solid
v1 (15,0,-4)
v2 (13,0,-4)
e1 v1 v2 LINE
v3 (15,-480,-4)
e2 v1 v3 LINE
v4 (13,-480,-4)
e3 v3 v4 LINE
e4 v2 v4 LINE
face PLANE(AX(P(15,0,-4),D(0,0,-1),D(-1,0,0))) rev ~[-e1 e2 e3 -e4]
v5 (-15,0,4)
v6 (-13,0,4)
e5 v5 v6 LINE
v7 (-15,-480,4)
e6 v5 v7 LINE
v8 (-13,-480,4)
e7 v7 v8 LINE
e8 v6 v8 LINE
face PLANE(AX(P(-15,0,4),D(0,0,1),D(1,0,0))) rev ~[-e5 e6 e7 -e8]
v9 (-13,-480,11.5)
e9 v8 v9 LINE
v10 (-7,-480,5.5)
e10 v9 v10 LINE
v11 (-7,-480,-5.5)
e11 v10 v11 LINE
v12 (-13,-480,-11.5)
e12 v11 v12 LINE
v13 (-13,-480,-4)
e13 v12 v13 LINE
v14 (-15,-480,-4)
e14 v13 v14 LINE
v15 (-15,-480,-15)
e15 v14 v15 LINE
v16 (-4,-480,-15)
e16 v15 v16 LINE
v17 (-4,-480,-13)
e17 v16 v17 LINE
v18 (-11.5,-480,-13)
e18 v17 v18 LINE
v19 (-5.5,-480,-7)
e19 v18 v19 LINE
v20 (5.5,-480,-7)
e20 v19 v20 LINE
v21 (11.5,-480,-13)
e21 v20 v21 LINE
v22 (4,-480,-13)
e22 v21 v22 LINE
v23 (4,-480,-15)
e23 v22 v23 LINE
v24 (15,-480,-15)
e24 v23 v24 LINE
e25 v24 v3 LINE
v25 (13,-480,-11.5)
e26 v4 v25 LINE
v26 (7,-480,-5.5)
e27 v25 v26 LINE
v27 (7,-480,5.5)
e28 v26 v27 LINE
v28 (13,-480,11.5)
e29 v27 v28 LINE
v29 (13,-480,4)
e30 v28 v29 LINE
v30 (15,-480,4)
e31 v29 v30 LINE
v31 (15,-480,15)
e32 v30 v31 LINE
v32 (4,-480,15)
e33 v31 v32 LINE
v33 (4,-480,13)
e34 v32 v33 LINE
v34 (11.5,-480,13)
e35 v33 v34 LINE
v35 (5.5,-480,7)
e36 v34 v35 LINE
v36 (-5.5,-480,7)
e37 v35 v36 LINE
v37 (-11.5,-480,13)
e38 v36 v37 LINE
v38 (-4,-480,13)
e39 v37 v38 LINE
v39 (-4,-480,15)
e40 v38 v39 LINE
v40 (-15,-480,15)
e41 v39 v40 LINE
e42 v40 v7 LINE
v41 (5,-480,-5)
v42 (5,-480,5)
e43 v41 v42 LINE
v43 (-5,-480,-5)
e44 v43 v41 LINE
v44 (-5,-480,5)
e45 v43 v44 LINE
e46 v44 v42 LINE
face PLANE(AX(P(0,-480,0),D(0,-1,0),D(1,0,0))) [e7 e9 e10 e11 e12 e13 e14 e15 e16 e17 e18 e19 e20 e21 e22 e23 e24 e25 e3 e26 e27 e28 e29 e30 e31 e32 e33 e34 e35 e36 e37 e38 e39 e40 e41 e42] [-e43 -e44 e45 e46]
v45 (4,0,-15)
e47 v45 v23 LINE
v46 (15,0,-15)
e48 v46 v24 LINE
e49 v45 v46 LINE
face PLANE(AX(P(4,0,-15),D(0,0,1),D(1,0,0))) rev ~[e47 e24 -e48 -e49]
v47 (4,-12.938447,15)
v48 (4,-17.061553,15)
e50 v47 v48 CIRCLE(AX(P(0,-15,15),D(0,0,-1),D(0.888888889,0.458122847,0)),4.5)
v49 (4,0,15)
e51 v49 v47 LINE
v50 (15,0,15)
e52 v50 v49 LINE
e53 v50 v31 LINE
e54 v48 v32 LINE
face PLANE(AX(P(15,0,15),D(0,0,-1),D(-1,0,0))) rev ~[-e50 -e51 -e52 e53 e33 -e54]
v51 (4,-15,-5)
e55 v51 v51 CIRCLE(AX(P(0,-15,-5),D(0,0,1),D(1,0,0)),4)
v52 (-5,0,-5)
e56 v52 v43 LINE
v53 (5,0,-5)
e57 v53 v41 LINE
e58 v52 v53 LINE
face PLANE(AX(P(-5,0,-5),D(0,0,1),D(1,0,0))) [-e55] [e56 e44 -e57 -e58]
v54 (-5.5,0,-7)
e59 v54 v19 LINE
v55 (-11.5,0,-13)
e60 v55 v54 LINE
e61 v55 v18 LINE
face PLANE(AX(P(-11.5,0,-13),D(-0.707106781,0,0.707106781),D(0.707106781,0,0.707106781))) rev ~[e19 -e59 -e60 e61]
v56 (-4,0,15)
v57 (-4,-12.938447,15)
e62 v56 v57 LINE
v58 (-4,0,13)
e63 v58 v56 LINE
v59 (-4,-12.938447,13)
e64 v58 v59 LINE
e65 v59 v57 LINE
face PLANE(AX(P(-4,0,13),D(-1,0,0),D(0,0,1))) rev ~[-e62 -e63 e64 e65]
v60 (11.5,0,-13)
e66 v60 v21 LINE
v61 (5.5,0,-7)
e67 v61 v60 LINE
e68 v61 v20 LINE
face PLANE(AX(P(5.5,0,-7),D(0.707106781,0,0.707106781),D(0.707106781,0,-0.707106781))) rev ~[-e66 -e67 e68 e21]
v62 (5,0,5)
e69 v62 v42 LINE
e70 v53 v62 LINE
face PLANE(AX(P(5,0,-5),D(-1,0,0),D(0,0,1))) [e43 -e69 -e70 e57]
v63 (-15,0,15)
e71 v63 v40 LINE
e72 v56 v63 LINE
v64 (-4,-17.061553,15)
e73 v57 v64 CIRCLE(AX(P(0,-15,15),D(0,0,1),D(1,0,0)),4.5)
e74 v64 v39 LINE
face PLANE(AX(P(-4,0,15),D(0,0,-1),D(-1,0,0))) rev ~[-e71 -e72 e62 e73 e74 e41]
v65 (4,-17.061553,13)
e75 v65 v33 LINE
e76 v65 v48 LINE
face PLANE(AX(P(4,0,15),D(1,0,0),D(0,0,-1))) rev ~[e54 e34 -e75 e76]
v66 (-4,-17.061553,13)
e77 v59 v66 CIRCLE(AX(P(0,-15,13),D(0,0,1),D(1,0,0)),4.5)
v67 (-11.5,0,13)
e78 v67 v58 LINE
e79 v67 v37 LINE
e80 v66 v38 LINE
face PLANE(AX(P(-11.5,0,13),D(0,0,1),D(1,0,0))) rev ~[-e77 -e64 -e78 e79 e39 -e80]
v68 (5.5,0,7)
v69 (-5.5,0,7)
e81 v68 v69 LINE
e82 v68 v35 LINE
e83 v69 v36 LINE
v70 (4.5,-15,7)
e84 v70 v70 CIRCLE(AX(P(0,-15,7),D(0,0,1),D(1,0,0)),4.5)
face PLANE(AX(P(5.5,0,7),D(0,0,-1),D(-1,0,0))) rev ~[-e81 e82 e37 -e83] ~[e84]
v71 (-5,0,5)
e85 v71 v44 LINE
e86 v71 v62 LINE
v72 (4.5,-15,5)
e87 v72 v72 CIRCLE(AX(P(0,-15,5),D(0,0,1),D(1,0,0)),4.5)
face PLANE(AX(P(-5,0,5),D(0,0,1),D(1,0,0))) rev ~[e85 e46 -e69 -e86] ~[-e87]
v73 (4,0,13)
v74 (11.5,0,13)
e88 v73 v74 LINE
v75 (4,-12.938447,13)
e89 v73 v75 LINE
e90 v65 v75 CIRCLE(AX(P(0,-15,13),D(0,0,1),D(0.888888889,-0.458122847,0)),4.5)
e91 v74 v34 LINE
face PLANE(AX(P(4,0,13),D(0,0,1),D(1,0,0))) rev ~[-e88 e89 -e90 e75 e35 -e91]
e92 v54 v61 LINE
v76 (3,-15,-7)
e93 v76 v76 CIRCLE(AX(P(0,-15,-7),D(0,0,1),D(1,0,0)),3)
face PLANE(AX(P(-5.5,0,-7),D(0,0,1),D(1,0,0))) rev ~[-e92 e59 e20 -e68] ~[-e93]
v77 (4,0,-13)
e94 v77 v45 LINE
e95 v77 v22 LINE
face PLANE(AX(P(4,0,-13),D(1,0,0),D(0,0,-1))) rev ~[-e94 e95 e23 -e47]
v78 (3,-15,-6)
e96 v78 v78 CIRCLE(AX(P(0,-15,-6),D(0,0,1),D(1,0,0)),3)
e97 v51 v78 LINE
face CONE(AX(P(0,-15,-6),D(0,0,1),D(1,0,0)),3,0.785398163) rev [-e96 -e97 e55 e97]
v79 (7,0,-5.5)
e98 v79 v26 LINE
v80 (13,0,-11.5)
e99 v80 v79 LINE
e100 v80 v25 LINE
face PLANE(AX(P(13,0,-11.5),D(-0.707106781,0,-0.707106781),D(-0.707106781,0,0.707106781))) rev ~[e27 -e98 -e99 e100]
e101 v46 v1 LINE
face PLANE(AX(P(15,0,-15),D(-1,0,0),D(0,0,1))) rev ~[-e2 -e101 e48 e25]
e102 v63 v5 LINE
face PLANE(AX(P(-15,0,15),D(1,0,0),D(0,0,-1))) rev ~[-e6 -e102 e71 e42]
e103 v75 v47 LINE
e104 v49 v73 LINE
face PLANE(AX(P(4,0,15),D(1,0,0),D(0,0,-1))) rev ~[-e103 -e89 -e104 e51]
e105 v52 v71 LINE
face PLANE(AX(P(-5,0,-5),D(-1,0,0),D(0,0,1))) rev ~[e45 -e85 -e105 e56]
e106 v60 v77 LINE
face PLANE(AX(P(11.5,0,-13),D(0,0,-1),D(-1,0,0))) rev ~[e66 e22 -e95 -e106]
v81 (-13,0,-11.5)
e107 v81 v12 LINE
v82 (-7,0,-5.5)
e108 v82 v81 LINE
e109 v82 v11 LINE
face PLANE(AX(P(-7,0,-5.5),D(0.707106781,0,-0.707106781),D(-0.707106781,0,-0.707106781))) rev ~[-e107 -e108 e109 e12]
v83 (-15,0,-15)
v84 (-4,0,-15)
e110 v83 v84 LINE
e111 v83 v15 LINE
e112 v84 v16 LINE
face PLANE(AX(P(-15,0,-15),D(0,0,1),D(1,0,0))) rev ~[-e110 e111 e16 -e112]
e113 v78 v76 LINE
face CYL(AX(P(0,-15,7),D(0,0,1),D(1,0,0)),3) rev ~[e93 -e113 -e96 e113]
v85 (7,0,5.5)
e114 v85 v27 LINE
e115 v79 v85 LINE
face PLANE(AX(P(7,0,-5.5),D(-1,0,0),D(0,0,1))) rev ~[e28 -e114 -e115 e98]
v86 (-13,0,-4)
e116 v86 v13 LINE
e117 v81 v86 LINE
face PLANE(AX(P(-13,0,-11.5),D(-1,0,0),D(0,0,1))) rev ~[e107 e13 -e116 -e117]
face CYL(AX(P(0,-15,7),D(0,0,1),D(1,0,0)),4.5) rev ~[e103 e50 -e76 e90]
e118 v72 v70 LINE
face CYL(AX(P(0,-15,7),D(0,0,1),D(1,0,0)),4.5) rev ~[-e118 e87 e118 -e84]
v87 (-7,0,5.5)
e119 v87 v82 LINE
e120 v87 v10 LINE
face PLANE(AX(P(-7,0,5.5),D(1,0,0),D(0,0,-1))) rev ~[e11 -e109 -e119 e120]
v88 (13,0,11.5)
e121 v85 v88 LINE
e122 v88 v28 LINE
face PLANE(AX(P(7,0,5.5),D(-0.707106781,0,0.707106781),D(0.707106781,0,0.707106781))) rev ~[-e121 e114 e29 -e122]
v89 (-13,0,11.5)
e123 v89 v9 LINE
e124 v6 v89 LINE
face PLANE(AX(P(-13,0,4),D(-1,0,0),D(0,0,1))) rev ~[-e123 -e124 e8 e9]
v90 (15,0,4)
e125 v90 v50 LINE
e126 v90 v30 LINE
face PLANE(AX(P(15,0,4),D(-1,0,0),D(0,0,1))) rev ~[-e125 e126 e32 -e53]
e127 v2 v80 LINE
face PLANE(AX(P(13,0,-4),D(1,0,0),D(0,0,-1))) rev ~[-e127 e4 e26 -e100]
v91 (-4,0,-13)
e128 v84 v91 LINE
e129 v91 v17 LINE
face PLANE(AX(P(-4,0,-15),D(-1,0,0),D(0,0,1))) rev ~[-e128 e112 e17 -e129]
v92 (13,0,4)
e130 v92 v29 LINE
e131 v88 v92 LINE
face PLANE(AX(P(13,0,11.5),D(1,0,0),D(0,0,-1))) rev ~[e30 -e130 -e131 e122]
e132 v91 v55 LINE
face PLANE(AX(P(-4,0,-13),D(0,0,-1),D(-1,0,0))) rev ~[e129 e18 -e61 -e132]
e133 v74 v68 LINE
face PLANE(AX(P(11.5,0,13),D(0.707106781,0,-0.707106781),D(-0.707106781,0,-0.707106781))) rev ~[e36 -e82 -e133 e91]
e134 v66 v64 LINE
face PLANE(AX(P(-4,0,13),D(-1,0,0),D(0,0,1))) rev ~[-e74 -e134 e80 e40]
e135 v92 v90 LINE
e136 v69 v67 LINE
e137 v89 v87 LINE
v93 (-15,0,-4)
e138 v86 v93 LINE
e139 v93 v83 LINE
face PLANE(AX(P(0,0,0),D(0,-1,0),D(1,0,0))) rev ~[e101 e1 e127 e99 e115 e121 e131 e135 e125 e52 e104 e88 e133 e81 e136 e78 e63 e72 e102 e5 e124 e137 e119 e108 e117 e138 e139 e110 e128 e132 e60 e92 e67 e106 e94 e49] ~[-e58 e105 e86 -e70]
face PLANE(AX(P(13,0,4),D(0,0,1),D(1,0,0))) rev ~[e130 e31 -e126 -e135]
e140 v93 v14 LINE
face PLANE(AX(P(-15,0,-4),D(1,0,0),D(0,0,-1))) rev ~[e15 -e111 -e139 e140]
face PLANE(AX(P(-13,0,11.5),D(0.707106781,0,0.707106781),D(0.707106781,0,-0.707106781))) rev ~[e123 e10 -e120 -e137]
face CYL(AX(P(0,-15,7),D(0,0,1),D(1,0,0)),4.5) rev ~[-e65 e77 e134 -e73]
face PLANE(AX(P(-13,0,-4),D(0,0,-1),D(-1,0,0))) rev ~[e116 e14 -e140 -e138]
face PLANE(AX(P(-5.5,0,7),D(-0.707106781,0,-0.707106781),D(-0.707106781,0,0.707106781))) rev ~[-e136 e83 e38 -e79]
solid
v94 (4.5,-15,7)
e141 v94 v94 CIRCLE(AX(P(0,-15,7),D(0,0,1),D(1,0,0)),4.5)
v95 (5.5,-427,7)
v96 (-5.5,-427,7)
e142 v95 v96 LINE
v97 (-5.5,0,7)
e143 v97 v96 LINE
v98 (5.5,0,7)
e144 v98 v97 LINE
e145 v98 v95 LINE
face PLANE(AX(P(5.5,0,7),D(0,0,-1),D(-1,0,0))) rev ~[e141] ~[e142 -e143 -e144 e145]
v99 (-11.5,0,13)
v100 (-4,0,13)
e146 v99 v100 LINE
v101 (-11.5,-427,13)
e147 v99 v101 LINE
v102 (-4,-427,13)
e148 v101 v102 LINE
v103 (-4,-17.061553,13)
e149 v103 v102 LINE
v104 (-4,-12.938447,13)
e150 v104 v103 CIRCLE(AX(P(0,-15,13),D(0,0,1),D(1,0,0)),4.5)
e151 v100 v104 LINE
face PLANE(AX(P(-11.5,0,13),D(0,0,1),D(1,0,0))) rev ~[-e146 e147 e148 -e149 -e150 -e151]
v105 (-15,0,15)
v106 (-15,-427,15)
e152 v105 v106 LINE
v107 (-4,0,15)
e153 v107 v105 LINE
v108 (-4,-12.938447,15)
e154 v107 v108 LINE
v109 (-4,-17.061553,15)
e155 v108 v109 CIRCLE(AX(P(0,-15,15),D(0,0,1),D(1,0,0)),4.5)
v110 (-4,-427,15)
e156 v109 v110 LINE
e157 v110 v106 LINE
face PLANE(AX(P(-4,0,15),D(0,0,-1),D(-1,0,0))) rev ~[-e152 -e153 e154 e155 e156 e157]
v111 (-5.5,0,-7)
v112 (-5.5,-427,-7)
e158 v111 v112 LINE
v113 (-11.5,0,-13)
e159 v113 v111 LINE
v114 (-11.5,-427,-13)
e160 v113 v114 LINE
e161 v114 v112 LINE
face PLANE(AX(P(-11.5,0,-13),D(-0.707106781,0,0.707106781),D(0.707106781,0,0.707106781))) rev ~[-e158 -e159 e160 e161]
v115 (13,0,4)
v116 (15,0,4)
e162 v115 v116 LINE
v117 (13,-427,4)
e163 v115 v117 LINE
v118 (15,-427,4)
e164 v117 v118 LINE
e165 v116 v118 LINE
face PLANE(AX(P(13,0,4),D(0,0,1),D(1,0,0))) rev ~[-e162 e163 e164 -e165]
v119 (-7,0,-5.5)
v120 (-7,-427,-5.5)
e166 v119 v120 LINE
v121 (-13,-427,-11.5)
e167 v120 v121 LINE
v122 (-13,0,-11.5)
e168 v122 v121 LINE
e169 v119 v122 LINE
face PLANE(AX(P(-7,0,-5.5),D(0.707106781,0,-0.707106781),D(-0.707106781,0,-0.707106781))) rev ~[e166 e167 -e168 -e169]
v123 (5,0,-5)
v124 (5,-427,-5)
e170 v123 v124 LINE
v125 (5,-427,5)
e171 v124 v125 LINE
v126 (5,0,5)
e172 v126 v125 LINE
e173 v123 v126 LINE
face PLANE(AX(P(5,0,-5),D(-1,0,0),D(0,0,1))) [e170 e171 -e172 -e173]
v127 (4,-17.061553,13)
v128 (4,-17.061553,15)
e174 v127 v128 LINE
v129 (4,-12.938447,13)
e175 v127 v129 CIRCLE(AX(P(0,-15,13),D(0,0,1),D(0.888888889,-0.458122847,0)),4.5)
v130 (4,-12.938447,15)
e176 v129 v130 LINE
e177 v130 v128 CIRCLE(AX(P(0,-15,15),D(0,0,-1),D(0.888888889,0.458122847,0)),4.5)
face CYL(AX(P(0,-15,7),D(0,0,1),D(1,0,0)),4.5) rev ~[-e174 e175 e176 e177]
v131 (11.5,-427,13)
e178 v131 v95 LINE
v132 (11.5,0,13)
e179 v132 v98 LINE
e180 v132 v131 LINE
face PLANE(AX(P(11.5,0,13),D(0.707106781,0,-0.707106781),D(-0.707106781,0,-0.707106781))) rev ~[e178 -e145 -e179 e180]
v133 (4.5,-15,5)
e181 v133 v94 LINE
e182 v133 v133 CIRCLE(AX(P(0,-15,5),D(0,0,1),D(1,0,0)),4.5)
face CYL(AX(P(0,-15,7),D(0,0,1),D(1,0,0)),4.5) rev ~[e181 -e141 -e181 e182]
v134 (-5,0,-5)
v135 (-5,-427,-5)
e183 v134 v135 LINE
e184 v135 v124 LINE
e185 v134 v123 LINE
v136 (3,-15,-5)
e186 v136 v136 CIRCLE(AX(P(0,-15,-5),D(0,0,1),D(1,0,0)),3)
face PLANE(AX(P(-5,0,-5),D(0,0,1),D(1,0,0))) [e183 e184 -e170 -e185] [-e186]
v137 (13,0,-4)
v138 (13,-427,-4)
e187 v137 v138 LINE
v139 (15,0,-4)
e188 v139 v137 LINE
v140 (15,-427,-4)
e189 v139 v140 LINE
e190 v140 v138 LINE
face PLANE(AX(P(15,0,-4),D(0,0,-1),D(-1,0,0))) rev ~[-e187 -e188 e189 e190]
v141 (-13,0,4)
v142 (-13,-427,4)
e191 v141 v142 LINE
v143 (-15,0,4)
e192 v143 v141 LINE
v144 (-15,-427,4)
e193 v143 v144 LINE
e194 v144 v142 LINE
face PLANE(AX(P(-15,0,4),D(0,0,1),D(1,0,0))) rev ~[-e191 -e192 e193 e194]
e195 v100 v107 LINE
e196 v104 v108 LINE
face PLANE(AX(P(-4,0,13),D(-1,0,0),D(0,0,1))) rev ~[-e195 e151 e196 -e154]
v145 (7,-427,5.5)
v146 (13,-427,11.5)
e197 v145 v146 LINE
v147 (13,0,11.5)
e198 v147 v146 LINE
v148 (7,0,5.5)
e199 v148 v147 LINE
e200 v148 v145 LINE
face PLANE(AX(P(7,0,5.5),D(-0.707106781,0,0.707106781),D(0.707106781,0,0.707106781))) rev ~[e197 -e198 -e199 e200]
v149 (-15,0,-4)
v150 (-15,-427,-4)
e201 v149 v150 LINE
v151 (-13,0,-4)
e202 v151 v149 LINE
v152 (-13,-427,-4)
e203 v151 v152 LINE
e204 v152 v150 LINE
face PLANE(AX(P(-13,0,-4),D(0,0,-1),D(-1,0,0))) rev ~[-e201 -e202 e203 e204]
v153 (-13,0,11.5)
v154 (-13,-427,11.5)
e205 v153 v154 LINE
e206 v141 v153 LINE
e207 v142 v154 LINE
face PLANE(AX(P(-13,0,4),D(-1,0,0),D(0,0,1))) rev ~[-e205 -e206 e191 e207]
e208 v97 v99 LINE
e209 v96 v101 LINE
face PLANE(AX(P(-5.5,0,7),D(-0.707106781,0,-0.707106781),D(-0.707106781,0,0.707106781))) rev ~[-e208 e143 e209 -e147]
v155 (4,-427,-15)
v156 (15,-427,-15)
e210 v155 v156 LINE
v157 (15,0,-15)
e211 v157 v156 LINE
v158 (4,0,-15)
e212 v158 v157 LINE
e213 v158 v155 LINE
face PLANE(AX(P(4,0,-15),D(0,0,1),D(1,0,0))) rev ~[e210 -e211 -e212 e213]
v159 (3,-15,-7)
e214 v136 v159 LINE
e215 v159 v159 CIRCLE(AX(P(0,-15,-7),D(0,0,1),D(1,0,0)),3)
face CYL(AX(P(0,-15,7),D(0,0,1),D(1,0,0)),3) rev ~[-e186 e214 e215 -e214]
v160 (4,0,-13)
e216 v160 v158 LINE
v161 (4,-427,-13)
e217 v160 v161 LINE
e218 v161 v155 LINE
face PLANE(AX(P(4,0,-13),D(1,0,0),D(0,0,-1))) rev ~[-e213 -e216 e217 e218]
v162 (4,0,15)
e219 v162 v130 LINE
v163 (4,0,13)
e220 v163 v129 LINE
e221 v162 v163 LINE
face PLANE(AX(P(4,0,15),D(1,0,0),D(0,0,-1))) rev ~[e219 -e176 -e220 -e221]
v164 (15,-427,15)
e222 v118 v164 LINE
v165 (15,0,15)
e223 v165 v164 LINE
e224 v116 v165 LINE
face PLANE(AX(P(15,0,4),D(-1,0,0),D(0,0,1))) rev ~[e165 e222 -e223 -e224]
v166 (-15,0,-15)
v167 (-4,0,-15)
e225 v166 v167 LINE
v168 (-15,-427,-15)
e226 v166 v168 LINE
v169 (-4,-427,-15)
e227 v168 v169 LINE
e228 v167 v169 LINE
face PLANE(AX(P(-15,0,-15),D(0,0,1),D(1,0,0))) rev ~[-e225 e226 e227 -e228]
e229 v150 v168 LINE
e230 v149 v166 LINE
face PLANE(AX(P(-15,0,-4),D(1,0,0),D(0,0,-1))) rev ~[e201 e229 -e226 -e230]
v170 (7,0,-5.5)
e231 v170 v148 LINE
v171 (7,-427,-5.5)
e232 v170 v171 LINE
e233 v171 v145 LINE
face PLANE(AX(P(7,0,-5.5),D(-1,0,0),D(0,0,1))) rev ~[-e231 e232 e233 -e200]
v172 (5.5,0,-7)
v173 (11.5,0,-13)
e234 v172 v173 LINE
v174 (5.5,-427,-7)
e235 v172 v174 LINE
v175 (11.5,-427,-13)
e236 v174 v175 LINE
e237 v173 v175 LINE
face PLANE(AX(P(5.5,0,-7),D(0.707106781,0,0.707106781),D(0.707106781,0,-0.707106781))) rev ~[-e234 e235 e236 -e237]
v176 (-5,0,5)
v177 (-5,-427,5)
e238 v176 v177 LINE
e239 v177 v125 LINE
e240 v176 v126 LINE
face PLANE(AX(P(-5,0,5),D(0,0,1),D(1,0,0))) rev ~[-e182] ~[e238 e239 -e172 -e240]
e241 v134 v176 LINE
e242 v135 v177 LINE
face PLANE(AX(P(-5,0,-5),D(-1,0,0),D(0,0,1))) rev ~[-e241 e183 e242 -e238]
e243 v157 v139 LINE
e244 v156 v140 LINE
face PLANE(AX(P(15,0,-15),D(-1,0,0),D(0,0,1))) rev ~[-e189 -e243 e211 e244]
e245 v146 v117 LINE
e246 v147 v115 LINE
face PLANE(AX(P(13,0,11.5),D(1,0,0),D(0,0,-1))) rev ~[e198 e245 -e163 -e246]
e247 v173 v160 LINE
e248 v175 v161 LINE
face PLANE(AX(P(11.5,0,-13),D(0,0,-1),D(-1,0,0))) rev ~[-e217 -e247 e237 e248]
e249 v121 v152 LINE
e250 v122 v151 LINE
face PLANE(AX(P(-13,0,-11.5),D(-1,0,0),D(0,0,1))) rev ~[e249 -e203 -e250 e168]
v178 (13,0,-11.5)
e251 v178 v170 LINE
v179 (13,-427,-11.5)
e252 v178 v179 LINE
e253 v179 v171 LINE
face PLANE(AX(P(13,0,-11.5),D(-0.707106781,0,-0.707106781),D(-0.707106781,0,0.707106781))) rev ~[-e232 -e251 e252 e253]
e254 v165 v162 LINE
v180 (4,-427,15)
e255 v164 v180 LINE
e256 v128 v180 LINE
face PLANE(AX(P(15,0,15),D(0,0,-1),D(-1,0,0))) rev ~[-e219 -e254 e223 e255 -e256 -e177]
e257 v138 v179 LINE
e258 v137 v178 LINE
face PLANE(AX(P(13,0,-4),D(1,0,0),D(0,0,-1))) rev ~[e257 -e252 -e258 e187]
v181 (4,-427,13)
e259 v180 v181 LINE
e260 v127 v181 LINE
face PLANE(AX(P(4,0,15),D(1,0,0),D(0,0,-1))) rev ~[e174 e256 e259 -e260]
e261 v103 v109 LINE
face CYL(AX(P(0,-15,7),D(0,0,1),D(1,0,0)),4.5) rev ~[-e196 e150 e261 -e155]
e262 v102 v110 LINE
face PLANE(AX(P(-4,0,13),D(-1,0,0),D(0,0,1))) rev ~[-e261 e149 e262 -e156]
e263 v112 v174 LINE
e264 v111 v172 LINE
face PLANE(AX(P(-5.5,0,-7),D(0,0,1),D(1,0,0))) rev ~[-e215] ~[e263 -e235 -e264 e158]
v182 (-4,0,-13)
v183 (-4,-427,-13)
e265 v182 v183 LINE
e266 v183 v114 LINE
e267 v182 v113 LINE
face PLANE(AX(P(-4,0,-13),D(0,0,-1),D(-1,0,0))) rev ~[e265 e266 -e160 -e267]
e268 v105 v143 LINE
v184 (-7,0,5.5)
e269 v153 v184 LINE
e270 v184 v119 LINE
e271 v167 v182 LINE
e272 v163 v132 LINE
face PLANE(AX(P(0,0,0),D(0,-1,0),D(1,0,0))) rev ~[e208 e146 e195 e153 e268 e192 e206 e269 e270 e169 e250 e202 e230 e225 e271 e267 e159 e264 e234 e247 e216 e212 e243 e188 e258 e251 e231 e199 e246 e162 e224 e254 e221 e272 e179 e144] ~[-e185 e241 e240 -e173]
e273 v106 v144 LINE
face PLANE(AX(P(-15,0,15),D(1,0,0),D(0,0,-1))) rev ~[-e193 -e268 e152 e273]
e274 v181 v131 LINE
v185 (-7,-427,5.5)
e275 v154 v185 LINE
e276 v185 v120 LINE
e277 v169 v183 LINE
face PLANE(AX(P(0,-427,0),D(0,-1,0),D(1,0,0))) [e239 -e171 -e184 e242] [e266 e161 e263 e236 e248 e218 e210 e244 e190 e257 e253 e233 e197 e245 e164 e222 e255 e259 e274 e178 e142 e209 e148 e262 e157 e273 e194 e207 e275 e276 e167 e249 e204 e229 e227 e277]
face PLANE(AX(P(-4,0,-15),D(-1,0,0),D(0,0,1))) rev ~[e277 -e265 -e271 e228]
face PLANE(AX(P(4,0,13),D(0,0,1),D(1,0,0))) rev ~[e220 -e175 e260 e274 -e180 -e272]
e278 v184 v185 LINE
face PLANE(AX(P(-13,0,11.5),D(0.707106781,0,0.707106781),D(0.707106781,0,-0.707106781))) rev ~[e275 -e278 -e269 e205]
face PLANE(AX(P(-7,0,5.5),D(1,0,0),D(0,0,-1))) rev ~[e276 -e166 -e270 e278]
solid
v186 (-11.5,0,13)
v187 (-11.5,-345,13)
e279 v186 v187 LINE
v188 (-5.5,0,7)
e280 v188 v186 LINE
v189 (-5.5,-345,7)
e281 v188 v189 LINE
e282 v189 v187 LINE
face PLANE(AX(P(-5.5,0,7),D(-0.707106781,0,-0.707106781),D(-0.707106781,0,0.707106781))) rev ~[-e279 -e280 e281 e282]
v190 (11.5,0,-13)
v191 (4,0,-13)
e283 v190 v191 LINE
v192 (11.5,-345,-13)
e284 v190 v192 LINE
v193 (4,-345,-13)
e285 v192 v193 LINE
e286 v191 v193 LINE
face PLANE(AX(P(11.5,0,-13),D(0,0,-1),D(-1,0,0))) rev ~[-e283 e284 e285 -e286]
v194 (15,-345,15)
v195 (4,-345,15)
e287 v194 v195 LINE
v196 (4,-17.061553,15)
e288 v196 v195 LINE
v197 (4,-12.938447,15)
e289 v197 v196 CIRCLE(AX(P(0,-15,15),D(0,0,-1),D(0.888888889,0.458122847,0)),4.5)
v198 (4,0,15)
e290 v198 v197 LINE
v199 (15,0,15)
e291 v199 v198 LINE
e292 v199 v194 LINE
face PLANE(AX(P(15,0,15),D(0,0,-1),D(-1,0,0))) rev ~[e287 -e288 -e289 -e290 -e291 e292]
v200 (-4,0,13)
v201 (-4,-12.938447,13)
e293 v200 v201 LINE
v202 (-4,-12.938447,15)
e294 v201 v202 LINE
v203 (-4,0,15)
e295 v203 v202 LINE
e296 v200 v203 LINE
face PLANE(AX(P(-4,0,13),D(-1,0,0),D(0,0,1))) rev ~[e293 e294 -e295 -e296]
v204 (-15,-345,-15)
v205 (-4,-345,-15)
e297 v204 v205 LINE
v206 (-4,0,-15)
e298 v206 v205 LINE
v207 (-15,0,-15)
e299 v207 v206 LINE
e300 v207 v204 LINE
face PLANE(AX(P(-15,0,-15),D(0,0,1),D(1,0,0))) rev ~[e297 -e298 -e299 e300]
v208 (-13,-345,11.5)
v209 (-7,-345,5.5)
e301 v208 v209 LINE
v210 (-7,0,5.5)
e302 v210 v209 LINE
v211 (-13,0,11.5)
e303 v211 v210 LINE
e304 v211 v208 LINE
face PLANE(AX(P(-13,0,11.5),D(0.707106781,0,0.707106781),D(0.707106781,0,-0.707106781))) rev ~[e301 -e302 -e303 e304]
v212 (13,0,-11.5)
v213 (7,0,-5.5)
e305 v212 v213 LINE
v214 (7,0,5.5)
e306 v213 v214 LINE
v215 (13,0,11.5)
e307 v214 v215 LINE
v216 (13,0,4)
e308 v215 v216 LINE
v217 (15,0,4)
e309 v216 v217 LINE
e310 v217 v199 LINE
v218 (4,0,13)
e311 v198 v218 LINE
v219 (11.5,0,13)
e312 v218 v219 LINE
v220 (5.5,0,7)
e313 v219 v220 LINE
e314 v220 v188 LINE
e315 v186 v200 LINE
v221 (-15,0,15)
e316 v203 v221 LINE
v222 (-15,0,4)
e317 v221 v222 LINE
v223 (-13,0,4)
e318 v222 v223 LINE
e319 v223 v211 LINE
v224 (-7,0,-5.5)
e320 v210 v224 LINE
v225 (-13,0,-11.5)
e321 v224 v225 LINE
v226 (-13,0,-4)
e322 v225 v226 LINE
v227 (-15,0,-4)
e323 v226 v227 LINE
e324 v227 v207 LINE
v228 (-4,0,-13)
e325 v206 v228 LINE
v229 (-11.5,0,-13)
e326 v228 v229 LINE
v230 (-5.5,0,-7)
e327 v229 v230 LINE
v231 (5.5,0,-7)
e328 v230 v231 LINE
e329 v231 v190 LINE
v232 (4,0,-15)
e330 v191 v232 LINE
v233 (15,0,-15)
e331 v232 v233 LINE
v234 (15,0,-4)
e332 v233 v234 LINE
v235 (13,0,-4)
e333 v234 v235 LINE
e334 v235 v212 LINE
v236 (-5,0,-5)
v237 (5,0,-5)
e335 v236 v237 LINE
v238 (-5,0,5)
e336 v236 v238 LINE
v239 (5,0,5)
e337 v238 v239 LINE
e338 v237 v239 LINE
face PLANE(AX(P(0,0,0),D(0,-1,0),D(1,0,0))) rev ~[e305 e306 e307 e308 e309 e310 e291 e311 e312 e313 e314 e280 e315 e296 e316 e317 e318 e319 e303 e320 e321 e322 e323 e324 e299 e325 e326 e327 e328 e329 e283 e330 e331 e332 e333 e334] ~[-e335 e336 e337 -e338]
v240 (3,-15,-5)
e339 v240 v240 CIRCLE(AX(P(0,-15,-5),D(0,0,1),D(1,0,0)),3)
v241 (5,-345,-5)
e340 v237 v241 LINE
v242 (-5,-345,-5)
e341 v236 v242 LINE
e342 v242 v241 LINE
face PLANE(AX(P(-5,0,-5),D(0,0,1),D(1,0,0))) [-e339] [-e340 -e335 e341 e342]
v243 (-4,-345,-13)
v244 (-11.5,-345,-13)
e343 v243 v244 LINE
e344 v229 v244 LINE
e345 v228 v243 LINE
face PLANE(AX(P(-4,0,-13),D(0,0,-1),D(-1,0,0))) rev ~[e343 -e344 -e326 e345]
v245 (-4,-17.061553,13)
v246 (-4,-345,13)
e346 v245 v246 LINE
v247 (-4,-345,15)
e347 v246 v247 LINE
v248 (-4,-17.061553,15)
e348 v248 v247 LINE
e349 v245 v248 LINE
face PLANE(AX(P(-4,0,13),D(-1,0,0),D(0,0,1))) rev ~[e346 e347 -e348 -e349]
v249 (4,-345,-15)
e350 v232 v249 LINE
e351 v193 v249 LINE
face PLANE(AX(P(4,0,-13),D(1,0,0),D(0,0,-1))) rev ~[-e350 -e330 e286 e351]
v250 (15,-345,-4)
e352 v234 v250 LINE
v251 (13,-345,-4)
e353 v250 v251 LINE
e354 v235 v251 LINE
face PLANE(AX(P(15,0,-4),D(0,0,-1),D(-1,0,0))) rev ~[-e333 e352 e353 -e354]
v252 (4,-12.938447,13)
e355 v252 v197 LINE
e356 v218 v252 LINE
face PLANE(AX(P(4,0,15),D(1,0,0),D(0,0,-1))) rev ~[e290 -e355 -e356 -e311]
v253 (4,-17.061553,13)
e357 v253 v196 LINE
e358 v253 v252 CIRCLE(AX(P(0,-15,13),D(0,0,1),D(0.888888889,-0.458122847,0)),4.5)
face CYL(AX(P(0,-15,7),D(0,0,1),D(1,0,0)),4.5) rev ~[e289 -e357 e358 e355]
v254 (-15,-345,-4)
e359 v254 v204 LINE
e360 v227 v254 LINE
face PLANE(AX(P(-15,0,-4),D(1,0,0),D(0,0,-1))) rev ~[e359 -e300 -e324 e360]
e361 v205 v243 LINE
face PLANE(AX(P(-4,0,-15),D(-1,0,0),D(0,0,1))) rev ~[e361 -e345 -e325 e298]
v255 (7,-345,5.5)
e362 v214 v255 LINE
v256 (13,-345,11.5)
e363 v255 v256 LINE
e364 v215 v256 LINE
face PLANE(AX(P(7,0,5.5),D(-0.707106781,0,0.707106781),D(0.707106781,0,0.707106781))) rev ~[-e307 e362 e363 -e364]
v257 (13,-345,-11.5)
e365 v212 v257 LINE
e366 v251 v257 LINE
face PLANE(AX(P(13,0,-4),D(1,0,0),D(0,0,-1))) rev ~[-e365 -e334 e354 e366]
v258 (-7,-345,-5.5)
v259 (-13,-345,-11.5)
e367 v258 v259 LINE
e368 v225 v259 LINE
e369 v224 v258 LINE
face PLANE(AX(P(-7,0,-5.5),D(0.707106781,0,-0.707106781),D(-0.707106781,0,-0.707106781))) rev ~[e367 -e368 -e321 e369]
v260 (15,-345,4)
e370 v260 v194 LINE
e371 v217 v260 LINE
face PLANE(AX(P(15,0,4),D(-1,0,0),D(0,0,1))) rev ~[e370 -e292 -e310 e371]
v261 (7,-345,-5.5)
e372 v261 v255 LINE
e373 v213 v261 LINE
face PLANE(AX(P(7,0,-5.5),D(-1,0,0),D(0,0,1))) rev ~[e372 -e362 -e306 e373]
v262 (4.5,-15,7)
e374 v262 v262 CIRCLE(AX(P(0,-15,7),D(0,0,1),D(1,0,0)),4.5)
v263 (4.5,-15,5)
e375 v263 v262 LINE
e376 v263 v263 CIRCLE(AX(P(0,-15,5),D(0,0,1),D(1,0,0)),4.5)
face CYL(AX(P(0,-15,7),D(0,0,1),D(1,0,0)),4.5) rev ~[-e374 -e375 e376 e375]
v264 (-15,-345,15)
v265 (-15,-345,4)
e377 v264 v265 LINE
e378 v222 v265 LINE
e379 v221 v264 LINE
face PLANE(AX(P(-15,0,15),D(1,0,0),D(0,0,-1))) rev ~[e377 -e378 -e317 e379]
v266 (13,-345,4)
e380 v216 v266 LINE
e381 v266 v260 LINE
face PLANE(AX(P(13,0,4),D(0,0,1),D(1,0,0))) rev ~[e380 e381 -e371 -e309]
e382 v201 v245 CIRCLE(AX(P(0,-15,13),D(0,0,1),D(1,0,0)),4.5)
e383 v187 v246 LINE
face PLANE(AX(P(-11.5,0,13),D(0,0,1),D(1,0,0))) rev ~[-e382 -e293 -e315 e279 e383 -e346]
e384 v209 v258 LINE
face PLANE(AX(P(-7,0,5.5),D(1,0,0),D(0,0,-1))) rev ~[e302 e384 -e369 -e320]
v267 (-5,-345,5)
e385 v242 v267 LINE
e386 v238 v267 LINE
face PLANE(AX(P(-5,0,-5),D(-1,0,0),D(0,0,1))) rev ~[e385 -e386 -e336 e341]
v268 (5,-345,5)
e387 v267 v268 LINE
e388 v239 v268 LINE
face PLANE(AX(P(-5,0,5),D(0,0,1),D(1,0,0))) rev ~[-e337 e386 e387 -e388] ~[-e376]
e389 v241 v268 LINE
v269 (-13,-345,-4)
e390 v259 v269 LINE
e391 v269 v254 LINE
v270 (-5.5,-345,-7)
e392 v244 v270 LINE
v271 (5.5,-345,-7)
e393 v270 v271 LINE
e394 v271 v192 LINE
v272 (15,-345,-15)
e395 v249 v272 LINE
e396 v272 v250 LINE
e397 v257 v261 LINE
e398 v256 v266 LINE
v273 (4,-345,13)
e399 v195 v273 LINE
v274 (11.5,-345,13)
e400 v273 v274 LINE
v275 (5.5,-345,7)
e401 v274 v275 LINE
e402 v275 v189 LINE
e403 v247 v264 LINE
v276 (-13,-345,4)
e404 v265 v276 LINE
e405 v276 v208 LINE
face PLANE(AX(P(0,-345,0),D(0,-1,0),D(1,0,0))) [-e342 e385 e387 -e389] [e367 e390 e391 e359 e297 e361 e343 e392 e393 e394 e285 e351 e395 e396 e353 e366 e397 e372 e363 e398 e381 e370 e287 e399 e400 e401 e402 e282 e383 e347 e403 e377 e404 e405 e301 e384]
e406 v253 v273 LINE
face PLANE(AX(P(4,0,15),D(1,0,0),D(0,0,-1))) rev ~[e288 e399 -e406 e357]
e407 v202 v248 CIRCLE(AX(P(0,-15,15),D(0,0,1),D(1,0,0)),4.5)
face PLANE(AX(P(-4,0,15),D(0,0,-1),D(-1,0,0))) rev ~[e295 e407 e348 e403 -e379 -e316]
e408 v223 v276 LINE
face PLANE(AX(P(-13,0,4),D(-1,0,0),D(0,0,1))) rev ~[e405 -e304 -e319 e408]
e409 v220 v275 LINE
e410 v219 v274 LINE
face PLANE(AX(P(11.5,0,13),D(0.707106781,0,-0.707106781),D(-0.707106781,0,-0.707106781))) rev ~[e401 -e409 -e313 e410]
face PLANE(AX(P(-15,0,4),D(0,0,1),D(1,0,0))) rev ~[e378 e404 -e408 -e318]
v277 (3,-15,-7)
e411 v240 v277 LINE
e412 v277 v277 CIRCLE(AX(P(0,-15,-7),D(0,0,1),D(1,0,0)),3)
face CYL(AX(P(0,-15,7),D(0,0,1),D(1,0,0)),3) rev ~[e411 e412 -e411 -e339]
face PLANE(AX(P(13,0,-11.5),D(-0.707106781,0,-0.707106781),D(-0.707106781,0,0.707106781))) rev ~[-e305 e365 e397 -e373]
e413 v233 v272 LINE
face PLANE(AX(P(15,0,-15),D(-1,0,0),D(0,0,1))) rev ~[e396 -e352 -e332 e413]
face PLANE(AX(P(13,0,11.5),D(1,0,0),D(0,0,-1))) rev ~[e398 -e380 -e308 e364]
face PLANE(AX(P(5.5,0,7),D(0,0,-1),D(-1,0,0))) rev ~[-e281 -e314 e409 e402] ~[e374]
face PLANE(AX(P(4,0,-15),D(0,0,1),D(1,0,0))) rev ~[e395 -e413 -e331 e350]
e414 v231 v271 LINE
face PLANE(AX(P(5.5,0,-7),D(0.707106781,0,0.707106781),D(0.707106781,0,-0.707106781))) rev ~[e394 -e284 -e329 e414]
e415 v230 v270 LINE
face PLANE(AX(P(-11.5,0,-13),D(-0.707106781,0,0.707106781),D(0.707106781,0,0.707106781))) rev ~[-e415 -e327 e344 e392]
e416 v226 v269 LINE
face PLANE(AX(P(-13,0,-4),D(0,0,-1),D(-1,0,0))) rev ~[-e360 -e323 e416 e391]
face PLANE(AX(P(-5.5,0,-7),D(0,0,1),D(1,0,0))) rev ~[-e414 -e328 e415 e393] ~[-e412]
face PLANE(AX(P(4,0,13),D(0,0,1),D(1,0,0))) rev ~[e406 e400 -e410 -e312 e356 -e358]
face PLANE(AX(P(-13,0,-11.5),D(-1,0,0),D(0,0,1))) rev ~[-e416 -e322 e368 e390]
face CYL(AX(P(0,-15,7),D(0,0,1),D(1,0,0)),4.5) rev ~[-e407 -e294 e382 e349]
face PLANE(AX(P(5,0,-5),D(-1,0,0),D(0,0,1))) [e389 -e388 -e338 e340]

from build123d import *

# Parameters (mm, degrees)
F0_W          = 10
F0_H          = 10
F1_DEPTH      = 480
F2_DEPTH      = 427
F3_DEPTH      = 345
F4_R          = 3
F5_DEPTH      = 22.001
F6_R          = 4.5
F6_R_2        = 3
F7_DEPTH      = 25
F7_DEPTH_BACK = 3
F8_SIZE       = 1


with BuildPart() as f1:
    # F0 (on Front) → F1 (new body)
    with BuildSketch(Plane.XZ):
        Polygon((-4, 15), (-15, 15), (-15, 4), (-13, 4), (-13, 11.5), (-7, 5.5), (-7, -5.5), (-13, -11.5), (-13, -4), (-15, -4), (-15, -15), (-4, -15), (-4, -13), (-11.5, -13), (-5.5, -7), (5.5, -7), (11.5, -13), (4, -13), (4, -15), (15, -15), (15, -4), (13, -4), (13, -11.5), (7, -5.5), (7, 5.5), (13, 11.5), (13, 4), (15, 4), (15, 15), (4, 15), (4, 13), (11.5, 13), (5.5, 7), (-5.5, 7), (-11.5, 13), (-4, 13), align=None)
        Rectangle(F0_W, F0_H, mode=Mode.SUBTRACT)
    extrude(amount=F1_DEPTH)


with BuildPart() as f2:
    # F0 (on Front) → F2 (new body)
    with BuildSketch(Plane.XZ):
        Polygon((-4, 15), (-15, 15), (-15, 4), (-13, 4), (-13, 11.5), (-7, 5.5), (-7, -5.5), (-13, -11.5), (-13, -4), (-15, -4), (-15, -15), (-4, -15), (-4, -13), (-11.5, -13), (-5.5, -7), (5.5, -7), (11.5, -13), (4, -13), (4, -15), (15, -15), (15, -4), (13, -4), (13, -11.5), (7, -5.5), (7, 5.5), (13, 11.5), (13, 4), (15, 4), (15, 15), (4, 15), (4, 13), (11.5, 13), (5.5, 7), (-5.5, 7), (-11.5, 13), (-4, 13), align=None)
        Rectangle(F0_W, F0_H, mode=Mode.SUBTRACT)
    extrude(amount=F2_DEPTH)


with BuildPart() as f3:
    # F0 (on Front) → F3 (new body)
    with BuildSketch(Plane.XZ):
        Polygon((-4, 15), (-15, 15), (-15, 4), (-13, 4), (-13, 11.5), (-7, 5.5), (-7, -5.5), (-13, -11.5), (-13, -4), (-15, -4), (-15, -15), (-4, -15), (-4, -13), (-11.5, -13), (-5.5, -7), (5.5, -7), (11.5, -13), (4, -13), (4, -15), (15, -15), (15, -4), (13, -4), (13, -11.5), (7, -5.5), (7, 5.5), (13, 11.5), (13, 4), (15, 4), (15, 15), (4, 15), (4, 13), (11.5, 13), (5.5, 7), (-5.5, 7), (-11.5, 13), (-4, 13), align=None)
        Rectangle(F0_W, F0_H, mode=Mode.SUBTRACT)
    extrude(amount=F3_DEPTH)


with BuildPart() as f5_tool:
    # F4 (on face) → F5 (new body, through all)
    with BuildSketch(Plane.XY.offset(7)):
        with Locations((0, -15)):
            Circle(F4_R)
    extrude(amount=-F5_DEPTH)


with BuildPart() as f1_1:
    add(f1.part)

    # F5: cut by f5_tool
    add(f5_tool.part, mode=Mode.SUBTRACT)


with BuildPart() as f2_1:
    add(f2.part)

    # F5: cut by f5_tool
    add(f5_tool.part, mode=Mode.SUBTRACT)


with BuildPart() as f3_1:
    add(f3.part)

    # F5: cut by f5_tool
    add(f5_tool.part, mode=Mode.SUBTRACT)


with BuildPart() as f7_tool:
    # F6 (on face) → F7 (new body, two sides)
    with BuildSketch(Plane.XY.offset(7)) as f7_sk:
        with Locations((0, -15)):
            Circle(F6_R)
        with Locations((0, -15)):
            Circle(F6_R_2, mode=Mode.SUBTRACT)
    extrude(amount=F7_DEPTH)
    extrude(f7_sk.sketch, amount=-F7_DEPTH_BACK)


with BuildPart() as f1_2:
    add(f1_1.part)

    # F7: cut by f7_tool
    add(f7_tool.part, mode=Mode.SUBTRACT)

    # F8
    f8_edges = [f1_2.edges().sort_by_distance(p)[0] for p in [
        (-3, -15, -5),
    ]]
    chamfer(f8_edges, length=F8_SIZE)


with BuildPart() as f2_2:
    add(f2_1.part)

    # F7: cut by f7_tool
    add(f7_tool.part, mode=Mode.SUBTRACT)


with BuildPart() as f3_2:
    add(f3_1.part)

    # F7: cut by f7_tool
    add(f7_tool.part, mode=Mode.SUBTRACT)


solid = Compound([f1_2.part, f2_2.part, f3_2.part])
